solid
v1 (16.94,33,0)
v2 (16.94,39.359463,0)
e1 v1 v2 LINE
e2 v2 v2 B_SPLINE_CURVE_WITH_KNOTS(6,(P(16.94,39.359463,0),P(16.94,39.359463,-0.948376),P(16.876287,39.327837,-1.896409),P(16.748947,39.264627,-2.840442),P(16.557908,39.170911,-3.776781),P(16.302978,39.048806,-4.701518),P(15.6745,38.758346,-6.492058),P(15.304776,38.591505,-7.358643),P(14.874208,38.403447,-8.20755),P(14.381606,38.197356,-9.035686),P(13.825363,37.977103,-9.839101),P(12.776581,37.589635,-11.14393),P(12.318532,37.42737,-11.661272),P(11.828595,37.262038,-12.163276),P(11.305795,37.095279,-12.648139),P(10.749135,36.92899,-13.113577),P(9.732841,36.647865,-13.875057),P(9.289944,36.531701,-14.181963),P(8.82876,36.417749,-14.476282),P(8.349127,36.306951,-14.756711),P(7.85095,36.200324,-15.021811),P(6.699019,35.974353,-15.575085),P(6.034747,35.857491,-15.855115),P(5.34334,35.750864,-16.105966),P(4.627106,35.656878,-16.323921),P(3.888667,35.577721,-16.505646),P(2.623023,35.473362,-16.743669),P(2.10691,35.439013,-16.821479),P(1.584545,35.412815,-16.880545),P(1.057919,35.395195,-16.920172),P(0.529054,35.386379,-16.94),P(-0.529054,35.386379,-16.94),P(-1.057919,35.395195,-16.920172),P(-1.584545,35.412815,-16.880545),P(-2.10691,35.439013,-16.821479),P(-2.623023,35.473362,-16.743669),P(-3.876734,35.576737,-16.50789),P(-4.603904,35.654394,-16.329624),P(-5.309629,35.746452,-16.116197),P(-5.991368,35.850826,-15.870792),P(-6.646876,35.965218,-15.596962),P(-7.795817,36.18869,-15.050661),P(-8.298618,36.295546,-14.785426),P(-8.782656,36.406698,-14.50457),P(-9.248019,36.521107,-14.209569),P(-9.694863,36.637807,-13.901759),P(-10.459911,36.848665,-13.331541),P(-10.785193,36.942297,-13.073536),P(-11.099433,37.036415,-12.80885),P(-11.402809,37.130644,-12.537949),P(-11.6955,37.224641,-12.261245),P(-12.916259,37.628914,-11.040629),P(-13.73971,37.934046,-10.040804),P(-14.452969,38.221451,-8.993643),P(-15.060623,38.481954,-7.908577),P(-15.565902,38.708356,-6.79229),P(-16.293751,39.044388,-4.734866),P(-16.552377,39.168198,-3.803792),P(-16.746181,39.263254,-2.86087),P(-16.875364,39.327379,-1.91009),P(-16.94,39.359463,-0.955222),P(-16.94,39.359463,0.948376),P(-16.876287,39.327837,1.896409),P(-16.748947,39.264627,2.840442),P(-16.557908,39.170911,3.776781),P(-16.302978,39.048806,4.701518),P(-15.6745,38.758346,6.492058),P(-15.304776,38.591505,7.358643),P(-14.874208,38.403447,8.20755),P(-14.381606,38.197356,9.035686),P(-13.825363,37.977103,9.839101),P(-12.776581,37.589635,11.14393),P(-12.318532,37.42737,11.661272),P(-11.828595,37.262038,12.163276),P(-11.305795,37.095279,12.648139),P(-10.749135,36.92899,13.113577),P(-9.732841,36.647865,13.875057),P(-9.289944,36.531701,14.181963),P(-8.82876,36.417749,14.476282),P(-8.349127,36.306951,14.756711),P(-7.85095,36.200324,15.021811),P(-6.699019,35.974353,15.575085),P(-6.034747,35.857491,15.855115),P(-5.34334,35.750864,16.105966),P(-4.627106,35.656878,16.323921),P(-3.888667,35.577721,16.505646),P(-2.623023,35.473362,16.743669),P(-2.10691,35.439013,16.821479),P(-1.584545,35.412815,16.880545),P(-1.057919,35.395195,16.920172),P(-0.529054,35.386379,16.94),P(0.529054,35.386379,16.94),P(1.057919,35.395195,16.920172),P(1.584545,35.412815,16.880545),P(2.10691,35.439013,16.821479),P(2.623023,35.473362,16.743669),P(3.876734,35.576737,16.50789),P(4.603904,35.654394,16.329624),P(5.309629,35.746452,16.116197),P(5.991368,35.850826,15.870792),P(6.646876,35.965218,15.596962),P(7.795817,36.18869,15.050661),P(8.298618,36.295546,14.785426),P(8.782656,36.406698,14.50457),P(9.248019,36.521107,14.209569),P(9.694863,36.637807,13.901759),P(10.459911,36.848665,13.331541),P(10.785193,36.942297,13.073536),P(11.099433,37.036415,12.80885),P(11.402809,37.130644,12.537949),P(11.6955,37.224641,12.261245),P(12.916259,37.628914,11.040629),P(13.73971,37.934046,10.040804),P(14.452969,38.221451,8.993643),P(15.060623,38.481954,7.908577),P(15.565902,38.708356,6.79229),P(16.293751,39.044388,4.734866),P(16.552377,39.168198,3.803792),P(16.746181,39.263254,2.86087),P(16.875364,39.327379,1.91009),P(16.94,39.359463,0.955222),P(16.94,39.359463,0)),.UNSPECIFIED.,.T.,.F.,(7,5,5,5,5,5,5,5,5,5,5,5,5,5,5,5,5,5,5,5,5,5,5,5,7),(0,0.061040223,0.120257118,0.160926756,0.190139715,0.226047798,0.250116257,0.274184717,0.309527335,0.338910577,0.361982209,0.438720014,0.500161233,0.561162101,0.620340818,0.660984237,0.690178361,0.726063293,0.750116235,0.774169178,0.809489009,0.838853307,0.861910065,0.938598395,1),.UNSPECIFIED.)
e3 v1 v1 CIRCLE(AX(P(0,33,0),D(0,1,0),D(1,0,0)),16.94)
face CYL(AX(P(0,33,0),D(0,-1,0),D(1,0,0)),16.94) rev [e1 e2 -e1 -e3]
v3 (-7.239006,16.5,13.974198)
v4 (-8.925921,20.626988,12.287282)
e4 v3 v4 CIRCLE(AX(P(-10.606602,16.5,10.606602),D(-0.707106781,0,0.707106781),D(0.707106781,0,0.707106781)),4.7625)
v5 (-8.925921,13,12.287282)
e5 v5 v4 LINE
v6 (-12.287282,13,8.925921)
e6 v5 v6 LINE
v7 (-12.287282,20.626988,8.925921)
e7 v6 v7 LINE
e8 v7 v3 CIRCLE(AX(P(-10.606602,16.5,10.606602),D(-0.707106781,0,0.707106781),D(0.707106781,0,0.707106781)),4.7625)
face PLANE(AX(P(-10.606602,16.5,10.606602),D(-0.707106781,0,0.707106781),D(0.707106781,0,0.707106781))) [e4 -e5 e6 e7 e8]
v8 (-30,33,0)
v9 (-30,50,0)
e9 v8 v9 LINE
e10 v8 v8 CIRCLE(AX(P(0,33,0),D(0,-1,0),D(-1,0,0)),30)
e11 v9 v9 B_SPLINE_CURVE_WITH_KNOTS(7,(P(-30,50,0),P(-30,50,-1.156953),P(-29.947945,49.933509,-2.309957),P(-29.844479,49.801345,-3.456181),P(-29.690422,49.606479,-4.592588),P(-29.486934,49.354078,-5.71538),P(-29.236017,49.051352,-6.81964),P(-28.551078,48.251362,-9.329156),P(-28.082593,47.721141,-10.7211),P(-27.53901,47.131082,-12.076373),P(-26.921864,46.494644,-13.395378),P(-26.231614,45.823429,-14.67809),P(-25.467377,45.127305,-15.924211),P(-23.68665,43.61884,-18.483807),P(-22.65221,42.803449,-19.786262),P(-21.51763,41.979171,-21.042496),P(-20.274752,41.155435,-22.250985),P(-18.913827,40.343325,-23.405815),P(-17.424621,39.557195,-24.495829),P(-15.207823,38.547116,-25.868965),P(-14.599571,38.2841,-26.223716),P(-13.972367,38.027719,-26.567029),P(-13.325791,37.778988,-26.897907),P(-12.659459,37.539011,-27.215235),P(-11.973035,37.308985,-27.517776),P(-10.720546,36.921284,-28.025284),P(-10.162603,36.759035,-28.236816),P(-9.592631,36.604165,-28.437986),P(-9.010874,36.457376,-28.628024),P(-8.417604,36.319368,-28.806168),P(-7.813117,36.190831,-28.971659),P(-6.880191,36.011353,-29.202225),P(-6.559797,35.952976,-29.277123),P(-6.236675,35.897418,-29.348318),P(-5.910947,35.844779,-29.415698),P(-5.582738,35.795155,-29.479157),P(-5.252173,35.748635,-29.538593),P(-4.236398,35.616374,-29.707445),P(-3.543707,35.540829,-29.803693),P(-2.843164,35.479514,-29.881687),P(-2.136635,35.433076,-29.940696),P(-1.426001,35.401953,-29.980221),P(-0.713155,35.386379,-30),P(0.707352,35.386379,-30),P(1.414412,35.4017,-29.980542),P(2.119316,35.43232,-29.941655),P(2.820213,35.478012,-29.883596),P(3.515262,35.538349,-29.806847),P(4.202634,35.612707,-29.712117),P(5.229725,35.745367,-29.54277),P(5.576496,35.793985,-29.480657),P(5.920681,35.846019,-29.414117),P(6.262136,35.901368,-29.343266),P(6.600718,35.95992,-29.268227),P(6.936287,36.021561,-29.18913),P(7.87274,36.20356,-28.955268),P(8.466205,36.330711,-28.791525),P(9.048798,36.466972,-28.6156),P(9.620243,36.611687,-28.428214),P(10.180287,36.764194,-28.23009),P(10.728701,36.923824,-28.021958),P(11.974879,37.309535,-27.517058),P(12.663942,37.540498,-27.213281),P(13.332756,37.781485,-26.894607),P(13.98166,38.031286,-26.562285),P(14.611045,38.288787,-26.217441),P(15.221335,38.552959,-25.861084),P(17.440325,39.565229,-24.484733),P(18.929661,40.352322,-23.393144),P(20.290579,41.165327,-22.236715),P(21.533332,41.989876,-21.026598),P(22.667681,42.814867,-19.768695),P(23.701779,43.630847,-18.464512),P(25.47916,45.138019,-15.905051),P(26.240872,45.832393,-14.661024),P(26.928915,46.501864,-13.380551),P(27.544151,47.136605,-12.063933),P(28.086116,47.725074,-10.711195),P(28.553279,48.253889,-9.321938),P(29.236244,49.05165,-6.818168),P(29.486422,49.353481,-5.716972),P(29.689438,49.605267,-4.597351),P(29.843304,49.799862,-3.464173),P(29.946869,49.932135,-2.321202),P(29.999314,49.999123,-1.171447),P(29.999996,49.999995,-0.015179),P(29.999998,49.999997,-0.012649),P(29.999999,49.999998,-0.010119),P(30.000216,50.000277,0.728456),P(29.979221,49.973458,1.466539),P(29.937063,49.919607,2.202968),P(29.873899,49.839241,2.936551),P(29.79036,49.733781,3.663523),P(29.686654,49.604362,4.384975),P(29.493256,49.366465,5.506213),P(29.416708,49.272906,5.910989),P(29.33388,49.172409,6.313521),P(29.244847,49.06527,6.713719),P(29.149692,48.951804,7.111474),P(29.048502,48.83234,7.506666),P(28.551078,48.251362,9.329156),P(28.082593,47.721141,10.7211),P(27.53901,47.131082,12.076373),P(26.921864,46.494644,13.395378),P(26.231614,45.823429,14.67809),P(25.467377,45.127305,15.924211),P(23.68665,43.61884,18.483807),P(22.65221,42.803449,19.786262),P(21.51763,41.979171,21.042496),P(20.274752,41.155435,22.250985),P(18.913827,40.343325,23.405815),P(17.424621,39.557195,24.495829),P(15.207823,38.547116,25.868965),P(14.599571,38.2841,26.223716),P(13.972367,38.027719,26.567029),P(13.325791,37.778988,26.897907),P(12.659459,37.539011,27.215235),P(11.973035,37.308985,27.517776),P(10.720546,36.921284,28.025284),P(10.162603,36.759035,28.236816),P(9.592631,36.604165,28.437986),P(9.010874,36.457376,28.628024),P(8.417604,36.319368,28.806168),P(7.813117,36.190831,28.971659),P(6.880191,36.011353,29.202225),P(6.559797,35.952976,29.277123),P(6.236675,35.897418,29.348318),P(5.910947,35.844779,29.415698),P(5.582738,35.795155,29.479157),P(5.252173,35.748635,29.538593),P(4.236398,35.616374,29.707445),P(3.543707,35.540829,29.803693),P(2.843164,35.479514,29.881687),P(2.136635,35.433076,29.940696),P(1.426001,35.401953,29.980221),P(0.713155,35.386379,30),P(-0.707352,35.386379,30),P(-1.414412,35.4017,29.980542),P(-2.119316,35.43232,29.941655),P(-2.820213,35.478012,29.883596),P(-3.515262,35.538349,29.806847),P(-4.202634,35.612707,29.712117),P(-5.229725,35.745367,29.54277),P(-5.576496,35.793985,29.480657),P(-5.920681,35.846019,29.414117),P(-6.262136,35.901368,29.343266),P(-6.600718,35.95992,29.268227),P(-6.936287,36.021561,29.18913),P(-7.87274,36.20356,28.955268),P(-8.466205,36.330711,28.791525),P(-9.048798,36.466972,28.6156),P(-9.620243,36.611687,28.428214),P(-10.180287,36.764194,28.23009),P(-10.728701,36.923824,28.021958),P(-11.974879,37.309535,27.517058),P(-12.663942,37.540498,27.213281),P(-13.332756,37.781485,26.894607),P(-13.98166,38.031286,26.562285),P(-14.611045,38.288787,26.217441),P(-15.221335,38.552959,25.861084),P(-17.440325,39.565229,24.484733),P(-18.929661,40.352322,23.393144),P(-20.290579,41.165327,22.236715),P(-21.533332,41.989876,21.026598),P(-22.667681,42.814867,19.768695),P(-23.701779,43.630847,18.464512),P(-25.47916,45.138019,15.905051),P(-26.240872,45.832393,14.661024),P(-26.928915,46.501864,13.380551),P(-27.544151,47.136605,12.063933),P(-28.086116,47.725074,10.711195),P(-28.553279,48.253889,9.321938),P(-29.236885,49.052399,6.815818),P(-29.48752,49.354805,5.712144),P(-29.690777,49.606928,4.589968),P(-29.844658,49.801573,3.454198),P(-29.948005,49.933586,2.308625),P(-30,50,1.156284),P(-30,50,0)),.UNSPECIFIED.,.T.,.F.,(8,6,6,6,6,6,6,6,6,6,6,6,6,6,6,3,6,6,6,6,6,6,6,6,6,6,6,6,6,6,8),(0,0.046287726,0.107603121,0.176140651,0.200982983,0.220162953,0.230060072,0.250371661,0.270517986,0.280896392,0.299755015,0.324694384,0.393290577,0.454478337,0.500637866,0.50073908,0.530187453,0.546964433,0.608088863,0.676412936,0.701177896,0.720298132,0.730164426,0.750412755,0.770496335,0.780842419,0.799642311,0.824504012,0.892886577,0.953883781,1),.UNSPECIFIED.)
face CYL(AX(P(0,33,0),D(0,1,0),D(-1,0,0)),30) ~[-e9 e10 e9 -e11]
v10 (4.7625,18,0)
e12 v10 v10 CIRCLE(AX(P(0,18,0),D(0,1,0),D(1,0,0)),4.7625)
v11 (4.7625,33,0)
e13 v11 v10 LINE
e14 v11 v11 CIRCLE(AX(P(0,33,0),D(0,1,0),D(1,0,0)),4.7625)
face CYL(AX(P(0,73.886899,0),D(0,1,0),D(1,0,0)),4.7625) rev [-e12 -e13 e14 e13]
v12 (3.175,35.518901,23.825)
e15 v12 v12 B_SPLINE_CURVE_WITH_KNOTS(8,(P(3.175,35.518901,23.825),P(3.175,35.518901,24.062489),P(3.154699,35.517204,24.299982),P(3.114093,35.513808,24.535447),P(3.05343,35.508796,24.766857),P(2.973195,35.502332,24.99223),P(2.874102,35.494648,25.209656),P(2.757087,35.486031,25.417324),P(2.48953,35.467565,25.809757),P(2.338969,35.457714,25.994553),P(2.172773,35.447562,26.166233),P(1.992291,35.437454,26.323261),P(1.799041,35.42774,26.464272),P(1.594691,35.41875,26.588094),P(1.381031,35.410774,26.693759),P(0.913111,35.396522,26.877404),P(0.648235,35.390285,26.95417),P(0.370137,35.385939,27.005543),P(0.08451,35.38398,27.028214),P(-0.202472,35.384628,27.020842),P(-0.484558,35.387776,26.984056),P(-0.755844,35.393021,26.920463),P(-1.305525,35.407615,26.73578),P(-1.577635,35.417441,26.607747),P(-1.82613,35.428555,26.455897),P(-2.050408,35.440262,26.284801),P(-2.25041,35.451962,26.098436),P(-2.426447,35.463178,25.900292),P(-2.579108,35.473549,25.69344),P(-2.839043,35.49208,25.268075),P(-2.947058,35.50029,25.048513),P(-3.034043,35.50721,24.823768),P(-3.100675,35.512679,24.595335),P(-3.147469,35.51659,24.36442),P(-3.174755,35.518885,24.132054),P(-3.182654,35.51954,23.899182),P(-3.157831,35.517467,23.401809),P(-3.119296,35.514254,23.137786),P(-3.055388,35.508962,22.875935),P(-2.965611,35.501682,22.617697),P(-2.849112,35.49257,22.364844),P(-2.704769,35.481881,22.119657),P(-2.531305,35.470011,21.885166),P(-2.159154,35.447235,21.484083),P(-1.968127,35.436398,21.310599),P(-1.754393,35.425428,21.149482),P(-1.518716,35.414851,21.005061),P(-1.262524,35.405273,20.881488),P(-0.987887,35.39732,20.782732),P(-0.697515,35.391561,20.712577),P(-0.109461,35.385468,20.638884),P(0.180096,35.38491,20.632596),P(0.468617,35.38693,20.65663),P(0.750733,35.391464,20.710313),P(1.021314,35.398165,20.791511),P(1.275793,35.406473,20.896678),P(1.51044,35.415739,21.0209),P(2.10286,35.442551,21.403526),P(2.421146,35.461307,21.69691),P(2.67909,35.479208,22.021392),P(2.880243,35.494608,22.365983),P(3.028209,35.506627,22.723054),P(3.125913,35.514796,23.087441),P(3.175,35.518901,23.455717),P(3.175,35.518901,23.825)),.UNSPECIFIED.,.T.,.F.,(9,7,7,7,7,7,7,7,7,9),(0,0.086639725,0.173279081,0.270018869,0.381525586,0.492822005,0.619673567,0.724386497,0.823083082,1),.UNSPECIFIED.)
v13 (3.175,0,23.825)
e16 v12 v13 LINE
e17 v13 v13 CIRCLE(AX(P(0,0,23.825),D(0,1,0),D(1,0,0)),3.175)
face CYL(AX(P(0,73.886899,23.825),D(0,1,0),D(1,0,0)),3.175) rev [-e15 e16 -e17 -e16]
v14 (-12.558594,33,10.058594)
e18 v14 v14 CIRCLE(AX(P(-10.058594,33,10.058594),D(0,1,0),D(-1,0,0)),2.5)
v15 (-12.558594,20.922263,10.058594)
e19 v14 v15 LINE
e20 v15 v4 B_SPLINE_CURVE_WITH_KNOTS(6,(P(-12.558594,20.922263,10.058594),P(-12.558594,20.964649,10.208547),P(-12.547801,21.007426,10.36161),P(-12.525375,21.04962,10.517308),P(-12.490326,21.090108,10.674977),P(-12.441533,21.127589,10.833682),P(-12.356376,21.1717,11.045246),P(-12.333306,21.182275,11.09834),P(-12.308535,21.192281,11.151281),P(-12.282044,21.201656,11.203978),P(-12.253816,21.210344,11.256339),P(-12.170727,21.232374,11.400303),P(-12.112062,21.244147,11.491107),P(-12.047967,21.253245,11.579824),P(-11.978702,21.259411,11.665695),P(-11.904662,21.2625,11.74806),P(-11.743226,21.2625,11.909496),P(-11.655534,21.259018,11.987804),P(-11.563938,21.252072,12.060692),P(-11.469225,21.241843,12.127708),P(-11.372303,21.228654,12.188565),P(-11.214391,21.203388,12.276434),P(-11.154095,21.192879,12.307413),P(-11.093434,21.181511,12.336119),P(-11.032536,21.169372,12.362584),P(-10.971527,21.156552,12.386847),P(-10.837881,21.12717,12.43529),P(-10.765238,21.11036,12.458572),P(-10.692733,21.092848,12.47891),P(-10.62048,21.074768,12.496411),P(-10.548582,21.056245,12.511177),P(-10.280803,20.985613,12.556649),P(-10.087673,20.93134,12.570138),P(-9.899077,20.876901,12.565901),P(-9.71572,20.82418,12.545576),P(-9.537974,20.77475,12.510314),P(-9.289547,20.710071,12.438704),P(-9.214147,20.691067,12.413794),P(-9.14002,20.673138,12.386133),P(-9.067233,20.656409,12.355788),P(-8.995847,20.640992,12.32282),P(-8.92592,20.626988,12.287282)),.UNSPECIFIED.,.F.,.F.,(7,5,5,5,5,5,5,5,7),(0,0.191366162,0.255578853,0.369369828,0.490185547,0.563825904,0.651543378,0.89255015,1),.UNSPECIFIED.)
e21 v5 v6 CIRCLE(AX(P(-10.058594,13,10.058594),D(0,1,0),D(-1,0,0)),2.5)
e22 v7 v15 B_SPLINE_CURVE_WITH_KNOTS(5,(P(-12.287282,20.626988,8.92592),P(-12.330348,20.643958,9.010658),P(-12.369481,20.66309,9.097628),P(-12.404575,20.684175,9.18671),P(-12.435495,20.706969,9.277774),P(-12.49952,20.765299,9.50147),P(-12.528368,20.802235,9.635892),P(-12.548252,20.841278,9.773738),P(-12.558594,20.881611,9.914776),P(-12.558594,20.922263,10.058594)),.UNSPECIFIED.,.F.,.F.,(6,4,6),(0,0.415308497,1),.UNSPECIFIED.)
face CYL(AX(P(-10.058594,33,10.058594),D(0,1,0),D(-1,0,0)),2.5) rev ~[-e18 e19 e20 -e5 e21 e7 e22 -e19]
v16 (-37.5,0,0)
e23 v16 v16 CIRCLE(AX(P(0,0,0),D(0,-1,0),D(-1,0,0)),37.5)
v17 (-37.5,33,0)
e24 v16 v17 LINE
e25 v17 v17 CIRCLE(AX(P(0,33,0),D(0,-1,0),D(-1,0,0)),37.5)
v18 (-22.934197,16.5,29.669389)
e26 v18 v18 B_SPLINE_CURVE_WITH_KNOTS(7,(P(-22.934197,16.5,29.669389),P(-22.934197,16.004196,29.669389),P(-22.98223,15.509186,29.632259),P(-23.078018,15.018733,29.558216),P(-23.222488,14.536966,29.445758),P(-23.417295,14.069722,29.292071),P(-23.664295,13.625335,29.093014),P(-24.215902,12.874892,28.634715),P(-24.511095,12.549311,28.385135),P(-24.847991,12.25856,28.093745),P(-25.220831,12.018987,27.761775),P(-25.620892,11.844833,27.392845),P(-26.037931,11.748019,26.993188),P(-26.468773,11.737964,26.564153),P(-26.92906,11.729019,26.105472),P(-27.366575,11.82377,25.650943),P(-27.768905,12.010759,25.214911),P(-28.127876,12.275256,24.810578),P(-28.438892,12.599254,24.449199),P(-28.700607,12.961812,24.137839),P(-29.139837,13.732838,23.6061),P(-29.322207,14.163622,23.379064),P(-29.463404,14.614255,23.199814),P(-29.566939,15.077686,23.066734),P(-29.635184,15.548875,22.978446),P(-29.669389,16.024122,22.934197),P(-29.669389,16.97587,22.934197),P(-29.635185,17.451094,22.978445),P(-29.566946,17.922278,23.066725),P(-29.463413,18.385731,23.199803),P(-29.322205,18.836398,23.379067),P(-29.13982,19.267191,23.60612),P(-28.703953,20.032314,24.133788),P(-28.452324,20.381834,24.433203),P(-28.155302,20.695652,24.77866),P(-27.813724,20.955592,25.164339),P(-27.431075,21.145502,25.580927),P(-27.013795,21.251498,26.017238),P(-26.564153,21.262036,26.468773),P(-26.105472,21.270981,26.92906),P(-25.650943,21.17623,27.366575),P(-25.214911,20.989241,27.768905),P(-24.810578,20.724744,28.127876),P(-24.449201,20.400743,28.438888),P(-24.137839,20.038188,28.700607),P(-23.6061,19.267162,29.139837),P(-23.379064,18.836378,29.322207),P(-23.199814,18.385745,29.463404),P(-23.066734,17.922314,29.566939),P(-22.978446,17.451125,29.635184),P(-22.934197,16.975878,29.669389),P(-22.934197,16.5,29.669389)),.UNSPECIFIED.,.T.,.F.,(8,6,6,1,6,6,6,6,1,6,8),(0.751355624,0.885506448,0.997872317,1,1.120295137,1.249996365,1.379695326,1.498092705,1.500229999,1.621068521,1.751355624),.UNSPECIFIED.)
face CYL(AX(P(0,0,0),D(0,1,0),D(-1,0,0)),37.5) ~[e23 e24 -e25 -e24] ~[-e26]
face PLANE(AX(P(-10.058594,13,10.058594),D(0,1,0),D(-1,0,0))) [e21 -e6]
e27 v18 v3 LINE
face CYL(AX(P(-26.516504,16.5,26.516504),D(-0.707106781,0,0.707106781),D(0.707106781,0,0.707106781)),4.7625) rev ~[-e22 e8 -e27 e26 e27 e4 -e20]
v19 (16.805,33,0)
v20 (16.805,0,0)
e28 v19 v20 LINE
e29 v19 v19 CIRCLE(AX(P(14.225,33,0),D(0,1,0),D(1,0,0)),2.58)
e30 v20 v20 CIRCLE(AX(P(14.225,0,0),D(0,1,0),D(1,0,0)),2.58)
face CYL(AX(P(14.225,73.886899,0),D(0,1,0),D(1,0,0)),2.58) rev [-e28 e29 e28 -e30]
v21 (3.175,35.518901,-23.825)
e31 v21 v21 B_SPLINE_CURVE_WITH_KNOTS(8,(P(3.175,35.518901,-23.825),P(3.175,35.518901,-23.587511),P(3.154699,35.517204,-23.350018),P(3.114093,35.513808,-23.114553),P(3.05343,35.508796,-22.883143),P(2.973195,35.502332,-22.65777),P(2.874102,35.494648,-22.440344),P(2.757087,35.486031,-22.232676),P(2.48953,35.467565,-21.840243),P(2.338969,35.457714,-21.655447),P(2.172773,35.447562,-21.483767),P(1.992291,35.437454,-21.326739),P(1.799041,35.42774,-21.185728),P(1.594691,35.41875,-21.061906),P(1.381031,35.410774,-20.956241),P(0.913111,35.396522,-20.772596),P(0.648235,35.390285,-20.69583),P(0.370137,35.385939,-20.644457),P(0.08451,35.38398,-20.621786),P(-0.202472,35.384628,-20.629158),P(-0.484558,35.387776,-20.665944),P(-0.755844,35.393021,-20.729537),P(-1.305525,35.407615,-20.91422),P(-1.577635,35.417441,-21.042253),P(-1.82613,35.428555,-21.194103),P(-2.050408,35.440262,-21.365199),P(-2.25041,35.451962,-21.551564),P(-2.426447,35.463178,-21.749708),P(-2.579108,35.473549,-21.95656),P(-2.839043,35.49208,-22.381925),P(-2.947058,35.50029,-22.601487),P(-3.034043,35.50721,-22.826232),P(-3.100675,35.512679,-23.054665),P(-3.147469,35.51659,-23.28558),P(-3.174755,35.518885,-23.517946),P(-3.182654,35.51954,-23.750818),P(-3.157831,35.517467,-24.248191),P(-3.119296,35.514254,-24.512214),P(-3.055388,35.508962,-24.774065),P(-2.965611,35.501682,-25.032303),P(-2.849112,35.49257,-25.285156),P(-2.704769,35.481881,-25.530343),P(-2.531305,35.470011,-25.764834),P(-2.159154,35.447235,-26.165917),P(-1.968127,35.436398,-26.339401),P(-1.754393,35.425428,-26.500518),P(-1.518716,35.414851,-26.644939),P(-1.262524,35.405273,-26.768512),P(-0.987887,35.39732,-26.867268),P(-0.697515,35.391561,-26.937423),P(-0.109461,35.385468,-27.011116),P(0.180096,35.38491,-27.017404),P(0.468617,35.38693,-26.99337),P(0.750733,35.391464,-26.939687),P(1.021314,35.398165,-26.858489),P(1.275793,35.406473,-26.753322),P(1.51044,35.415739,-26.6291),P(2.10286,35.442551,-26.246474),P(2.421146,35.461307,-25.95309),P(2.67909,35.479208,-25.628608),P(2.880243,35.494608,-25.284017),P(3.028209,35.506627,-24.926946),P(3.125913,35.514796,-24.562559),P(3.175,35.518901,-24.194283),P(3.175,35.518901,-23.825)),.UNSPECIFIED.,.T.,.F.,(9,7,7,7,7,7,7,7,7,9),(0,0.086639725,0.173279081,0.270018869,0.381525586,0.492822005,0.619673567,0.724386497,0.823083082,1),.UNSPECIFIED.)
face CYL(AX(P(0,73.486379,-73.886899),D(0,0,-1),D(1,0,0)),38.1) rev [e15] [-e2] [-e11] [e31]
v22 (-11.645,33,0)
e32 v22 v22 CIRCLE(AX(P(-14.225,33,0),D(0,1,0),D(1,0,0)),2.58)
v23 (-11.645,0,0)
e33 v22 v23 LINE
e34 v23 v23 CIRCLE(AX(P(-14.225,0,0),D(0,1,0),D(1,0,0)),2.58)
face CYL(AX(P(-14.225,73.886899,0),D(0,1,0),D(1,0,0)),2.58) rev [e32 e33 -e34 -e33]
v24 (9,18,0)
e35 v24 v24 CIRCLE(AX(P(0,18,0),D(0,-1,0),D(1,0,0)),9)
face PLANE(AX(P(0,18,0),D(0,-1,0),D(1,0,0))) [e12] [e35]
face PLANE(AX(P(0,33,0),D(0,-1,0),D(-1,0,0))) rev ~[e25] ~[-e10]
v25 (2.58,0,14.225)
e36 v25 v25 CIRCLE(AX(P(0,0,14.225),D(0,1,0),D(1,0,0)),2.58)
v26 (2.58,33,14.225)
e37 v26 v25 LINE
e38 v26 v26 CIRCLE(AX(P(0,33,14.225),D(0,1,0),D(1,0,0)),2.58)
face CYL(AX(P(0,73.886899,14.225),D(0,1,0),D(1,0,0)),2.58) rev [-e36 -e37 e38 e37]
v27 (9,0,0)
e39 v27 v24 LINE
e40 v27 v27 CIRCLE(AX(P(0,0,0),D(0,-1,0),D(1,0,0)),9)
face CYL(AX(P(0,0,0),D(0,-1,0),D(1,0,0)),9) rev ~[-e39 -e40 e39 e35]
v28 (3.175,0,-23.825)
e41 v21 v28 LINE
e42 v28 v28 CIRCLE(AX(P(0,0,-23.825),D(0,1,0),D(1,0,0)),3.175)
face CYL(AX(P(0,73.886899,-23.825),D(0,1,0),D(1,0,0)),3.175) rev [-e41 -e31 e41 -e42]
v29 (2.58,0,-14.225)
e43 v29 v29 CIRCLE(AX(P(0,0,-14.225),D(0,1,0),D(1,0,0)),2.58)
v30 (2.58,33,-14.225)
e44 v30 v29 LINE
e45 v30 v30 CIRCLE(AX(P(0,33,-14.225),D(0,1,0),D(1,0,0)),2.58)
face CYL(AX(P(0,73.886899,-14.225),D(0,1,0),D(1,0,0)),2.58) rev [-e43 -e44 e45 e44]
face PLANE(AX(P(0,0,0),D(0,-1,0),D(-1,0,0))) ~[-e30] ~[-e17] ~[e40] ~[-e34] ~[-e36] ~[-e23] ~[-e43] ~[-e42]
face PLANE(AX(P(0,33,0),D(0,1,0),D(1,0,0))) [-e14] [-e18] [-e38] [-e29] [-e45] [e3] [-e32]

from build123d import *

# Parameters (mm, degrees)
CUT_EXTRUDE1_DEPTH      = 73.886898686
CUT_EXTRUDE1_DEPTH_BACK = 73.886898686
SKETCH2_R               = 38.1
CUT_EXTRUDE2_DEPTH      = 73.886898754
CUT_EXTRUDE2_DEPTH_BACK = 73.886898754
SKETCH3_R               = 4.7625
SKETCH7_R               = 4.7625
CUT_EXTRUDE5_DEPTH      = 22.5
CUT_EXTRUDE3_DEPTH      = 73.886898857
CUT_EXTRUDE3_DEPTH_BACK = 73.886898857
SKETCH4_R               = 3.175
SKETCH4_R_2             = 2.58
SKETCH5_R               = 16.94
CUT_EXTRUDE4_DEPTH      = 63.461988614
SKETCH8_R               = 2.5
CUT_EXTRUDE6_DEPTH      = 20
SKETCH9_R               = 9
CUT_EXTRUDE7_DEPTH      = 18


with BuildPart() as part:
    # Sketch1 → Revolve1 (revolve)
    with BuildSketch(Plane.XY, mode=Mode.PRIVATE) as revolve1_sk:
        Polygon((0, 0), (37.5, 0), (37.5, 33), (30, 33), (30, 50), (0, 50), align=None)
    revolve(revolve1_sk.sketch.rotate(Axis((0, 50, 0), (0, -1, 0)), 180), axis=Axis((0, 50, 0), (0, -1, 0)))

    # Sketch2 → Cut-Extrude1 (cut, two sides: drawn at the far end of the back side and taken through both)
    with BuildSketch(Plane.XY.offset(-CUT_EXTRUDE1_DEPTH_BACK)):
        with Locations((0, 73.486379031)):
            Circle(SKETCH2_R)
    extrude(amount=CUT_EXTRUDE1_DEPTH + CUT_EXTRUDE1_DEPTH_BACK, mode=Mode.SUBTRACT)

    # Sketch3 → Cut-Extrude2 (cut, two sides: drawn at the far end of the back side and taken through both)
    with BuildSketch(Plane.XZ.offset(-CUT_EXTRUDE2_DEPTH_BACK)):
        Circle(SKETCH3_R)
    extrude(amount=CUT_EXTRUDE2_DEPTH + CUT_EXTRUDE2_DEPTH_BACK, mode=Mode.SUBTRACT)

    # Sketch7 → Cut-Extrude5 (cut)
    with BuildSketch(Plane(origin=(-26.516504294, 0, 26.516504294), x_dir=(0, 1, 0), z_dir=(-0.7071067811865464, 0, 0.7071067811865488))):
        with Locations(Location((16.5, 0, 0), (0, 0, 270))):
            Circle(SKETCH7_R)
    extrude(amount=-CUT_EXTRUDE5_DEPTH, mode=Mode.SUBTRACT)

    # Sketch4 → Cut-Extrude3 (cut, two sides: drawn at the far end of the back side and taken through both)
    with BuildSketch(Plane.XZ.offset(-CUT_EXTRUDE3_DEPTH_BACK)):
        with Locations((0, 23.825)):
            Circle(SKETCH4_R)
        with Locations((0, -23.825)):
            Circle(SKETCH4_R)
        with Locations((-14.225, 0)):
            Circle(SKETCH4_R_2)
        with Locations((0, 14.225)):
            Circle(SKETCH4_R_2)
        with Locations((14.225, 0)):
            Circle(SKETCH4_R_2)
        with Locations((0, -14.225)):
            Circle(SKETCH4_R_2)
    extrude(amount=CUT_EXTRUDE3_DEPTH + CUT_EXTRUDE3_DEPTH_BACK, mode=Mode.SUBTRACT)

    # Sketch5 → Cut-Extrude4 (cut, through all)
    with BuildSketch(Plane(origin=(0, 33, 0), x_dir=(1, 0, 0), z_dir=(0, 1, 0))):
        Circle(SKETCH5_R)
    extrude(amount=CUT_EXTRUDE4_DEPTH, mode=Mode.SUBTRACT)

    # Sketch8 → Cut-Extrude6 (cut)
    with BuildSketch(Plane(origin=(0, 33, 0), x_dir=(1, 0, 0), z_dir=(0, 1, 0))):
        with Locations(Location((-10.058593962, -10.058593962, 0), (0, 0, 180))):
            Circle(SKETCH8_R)
    extrude(amount=-CUT_EXTRUDE6_DEPTH, mode=Mode.SUBTRACT)

    # Sketch9 → Cut-Extrude7 (cut)
    with BuildSketch(Plane.XZ):
        Circle(SKETCH9_R)
    extrude(amount=-CUT_EXTRUDE7_DEPTH, mode=Mode.SUBTRACT)


solid = part.part
